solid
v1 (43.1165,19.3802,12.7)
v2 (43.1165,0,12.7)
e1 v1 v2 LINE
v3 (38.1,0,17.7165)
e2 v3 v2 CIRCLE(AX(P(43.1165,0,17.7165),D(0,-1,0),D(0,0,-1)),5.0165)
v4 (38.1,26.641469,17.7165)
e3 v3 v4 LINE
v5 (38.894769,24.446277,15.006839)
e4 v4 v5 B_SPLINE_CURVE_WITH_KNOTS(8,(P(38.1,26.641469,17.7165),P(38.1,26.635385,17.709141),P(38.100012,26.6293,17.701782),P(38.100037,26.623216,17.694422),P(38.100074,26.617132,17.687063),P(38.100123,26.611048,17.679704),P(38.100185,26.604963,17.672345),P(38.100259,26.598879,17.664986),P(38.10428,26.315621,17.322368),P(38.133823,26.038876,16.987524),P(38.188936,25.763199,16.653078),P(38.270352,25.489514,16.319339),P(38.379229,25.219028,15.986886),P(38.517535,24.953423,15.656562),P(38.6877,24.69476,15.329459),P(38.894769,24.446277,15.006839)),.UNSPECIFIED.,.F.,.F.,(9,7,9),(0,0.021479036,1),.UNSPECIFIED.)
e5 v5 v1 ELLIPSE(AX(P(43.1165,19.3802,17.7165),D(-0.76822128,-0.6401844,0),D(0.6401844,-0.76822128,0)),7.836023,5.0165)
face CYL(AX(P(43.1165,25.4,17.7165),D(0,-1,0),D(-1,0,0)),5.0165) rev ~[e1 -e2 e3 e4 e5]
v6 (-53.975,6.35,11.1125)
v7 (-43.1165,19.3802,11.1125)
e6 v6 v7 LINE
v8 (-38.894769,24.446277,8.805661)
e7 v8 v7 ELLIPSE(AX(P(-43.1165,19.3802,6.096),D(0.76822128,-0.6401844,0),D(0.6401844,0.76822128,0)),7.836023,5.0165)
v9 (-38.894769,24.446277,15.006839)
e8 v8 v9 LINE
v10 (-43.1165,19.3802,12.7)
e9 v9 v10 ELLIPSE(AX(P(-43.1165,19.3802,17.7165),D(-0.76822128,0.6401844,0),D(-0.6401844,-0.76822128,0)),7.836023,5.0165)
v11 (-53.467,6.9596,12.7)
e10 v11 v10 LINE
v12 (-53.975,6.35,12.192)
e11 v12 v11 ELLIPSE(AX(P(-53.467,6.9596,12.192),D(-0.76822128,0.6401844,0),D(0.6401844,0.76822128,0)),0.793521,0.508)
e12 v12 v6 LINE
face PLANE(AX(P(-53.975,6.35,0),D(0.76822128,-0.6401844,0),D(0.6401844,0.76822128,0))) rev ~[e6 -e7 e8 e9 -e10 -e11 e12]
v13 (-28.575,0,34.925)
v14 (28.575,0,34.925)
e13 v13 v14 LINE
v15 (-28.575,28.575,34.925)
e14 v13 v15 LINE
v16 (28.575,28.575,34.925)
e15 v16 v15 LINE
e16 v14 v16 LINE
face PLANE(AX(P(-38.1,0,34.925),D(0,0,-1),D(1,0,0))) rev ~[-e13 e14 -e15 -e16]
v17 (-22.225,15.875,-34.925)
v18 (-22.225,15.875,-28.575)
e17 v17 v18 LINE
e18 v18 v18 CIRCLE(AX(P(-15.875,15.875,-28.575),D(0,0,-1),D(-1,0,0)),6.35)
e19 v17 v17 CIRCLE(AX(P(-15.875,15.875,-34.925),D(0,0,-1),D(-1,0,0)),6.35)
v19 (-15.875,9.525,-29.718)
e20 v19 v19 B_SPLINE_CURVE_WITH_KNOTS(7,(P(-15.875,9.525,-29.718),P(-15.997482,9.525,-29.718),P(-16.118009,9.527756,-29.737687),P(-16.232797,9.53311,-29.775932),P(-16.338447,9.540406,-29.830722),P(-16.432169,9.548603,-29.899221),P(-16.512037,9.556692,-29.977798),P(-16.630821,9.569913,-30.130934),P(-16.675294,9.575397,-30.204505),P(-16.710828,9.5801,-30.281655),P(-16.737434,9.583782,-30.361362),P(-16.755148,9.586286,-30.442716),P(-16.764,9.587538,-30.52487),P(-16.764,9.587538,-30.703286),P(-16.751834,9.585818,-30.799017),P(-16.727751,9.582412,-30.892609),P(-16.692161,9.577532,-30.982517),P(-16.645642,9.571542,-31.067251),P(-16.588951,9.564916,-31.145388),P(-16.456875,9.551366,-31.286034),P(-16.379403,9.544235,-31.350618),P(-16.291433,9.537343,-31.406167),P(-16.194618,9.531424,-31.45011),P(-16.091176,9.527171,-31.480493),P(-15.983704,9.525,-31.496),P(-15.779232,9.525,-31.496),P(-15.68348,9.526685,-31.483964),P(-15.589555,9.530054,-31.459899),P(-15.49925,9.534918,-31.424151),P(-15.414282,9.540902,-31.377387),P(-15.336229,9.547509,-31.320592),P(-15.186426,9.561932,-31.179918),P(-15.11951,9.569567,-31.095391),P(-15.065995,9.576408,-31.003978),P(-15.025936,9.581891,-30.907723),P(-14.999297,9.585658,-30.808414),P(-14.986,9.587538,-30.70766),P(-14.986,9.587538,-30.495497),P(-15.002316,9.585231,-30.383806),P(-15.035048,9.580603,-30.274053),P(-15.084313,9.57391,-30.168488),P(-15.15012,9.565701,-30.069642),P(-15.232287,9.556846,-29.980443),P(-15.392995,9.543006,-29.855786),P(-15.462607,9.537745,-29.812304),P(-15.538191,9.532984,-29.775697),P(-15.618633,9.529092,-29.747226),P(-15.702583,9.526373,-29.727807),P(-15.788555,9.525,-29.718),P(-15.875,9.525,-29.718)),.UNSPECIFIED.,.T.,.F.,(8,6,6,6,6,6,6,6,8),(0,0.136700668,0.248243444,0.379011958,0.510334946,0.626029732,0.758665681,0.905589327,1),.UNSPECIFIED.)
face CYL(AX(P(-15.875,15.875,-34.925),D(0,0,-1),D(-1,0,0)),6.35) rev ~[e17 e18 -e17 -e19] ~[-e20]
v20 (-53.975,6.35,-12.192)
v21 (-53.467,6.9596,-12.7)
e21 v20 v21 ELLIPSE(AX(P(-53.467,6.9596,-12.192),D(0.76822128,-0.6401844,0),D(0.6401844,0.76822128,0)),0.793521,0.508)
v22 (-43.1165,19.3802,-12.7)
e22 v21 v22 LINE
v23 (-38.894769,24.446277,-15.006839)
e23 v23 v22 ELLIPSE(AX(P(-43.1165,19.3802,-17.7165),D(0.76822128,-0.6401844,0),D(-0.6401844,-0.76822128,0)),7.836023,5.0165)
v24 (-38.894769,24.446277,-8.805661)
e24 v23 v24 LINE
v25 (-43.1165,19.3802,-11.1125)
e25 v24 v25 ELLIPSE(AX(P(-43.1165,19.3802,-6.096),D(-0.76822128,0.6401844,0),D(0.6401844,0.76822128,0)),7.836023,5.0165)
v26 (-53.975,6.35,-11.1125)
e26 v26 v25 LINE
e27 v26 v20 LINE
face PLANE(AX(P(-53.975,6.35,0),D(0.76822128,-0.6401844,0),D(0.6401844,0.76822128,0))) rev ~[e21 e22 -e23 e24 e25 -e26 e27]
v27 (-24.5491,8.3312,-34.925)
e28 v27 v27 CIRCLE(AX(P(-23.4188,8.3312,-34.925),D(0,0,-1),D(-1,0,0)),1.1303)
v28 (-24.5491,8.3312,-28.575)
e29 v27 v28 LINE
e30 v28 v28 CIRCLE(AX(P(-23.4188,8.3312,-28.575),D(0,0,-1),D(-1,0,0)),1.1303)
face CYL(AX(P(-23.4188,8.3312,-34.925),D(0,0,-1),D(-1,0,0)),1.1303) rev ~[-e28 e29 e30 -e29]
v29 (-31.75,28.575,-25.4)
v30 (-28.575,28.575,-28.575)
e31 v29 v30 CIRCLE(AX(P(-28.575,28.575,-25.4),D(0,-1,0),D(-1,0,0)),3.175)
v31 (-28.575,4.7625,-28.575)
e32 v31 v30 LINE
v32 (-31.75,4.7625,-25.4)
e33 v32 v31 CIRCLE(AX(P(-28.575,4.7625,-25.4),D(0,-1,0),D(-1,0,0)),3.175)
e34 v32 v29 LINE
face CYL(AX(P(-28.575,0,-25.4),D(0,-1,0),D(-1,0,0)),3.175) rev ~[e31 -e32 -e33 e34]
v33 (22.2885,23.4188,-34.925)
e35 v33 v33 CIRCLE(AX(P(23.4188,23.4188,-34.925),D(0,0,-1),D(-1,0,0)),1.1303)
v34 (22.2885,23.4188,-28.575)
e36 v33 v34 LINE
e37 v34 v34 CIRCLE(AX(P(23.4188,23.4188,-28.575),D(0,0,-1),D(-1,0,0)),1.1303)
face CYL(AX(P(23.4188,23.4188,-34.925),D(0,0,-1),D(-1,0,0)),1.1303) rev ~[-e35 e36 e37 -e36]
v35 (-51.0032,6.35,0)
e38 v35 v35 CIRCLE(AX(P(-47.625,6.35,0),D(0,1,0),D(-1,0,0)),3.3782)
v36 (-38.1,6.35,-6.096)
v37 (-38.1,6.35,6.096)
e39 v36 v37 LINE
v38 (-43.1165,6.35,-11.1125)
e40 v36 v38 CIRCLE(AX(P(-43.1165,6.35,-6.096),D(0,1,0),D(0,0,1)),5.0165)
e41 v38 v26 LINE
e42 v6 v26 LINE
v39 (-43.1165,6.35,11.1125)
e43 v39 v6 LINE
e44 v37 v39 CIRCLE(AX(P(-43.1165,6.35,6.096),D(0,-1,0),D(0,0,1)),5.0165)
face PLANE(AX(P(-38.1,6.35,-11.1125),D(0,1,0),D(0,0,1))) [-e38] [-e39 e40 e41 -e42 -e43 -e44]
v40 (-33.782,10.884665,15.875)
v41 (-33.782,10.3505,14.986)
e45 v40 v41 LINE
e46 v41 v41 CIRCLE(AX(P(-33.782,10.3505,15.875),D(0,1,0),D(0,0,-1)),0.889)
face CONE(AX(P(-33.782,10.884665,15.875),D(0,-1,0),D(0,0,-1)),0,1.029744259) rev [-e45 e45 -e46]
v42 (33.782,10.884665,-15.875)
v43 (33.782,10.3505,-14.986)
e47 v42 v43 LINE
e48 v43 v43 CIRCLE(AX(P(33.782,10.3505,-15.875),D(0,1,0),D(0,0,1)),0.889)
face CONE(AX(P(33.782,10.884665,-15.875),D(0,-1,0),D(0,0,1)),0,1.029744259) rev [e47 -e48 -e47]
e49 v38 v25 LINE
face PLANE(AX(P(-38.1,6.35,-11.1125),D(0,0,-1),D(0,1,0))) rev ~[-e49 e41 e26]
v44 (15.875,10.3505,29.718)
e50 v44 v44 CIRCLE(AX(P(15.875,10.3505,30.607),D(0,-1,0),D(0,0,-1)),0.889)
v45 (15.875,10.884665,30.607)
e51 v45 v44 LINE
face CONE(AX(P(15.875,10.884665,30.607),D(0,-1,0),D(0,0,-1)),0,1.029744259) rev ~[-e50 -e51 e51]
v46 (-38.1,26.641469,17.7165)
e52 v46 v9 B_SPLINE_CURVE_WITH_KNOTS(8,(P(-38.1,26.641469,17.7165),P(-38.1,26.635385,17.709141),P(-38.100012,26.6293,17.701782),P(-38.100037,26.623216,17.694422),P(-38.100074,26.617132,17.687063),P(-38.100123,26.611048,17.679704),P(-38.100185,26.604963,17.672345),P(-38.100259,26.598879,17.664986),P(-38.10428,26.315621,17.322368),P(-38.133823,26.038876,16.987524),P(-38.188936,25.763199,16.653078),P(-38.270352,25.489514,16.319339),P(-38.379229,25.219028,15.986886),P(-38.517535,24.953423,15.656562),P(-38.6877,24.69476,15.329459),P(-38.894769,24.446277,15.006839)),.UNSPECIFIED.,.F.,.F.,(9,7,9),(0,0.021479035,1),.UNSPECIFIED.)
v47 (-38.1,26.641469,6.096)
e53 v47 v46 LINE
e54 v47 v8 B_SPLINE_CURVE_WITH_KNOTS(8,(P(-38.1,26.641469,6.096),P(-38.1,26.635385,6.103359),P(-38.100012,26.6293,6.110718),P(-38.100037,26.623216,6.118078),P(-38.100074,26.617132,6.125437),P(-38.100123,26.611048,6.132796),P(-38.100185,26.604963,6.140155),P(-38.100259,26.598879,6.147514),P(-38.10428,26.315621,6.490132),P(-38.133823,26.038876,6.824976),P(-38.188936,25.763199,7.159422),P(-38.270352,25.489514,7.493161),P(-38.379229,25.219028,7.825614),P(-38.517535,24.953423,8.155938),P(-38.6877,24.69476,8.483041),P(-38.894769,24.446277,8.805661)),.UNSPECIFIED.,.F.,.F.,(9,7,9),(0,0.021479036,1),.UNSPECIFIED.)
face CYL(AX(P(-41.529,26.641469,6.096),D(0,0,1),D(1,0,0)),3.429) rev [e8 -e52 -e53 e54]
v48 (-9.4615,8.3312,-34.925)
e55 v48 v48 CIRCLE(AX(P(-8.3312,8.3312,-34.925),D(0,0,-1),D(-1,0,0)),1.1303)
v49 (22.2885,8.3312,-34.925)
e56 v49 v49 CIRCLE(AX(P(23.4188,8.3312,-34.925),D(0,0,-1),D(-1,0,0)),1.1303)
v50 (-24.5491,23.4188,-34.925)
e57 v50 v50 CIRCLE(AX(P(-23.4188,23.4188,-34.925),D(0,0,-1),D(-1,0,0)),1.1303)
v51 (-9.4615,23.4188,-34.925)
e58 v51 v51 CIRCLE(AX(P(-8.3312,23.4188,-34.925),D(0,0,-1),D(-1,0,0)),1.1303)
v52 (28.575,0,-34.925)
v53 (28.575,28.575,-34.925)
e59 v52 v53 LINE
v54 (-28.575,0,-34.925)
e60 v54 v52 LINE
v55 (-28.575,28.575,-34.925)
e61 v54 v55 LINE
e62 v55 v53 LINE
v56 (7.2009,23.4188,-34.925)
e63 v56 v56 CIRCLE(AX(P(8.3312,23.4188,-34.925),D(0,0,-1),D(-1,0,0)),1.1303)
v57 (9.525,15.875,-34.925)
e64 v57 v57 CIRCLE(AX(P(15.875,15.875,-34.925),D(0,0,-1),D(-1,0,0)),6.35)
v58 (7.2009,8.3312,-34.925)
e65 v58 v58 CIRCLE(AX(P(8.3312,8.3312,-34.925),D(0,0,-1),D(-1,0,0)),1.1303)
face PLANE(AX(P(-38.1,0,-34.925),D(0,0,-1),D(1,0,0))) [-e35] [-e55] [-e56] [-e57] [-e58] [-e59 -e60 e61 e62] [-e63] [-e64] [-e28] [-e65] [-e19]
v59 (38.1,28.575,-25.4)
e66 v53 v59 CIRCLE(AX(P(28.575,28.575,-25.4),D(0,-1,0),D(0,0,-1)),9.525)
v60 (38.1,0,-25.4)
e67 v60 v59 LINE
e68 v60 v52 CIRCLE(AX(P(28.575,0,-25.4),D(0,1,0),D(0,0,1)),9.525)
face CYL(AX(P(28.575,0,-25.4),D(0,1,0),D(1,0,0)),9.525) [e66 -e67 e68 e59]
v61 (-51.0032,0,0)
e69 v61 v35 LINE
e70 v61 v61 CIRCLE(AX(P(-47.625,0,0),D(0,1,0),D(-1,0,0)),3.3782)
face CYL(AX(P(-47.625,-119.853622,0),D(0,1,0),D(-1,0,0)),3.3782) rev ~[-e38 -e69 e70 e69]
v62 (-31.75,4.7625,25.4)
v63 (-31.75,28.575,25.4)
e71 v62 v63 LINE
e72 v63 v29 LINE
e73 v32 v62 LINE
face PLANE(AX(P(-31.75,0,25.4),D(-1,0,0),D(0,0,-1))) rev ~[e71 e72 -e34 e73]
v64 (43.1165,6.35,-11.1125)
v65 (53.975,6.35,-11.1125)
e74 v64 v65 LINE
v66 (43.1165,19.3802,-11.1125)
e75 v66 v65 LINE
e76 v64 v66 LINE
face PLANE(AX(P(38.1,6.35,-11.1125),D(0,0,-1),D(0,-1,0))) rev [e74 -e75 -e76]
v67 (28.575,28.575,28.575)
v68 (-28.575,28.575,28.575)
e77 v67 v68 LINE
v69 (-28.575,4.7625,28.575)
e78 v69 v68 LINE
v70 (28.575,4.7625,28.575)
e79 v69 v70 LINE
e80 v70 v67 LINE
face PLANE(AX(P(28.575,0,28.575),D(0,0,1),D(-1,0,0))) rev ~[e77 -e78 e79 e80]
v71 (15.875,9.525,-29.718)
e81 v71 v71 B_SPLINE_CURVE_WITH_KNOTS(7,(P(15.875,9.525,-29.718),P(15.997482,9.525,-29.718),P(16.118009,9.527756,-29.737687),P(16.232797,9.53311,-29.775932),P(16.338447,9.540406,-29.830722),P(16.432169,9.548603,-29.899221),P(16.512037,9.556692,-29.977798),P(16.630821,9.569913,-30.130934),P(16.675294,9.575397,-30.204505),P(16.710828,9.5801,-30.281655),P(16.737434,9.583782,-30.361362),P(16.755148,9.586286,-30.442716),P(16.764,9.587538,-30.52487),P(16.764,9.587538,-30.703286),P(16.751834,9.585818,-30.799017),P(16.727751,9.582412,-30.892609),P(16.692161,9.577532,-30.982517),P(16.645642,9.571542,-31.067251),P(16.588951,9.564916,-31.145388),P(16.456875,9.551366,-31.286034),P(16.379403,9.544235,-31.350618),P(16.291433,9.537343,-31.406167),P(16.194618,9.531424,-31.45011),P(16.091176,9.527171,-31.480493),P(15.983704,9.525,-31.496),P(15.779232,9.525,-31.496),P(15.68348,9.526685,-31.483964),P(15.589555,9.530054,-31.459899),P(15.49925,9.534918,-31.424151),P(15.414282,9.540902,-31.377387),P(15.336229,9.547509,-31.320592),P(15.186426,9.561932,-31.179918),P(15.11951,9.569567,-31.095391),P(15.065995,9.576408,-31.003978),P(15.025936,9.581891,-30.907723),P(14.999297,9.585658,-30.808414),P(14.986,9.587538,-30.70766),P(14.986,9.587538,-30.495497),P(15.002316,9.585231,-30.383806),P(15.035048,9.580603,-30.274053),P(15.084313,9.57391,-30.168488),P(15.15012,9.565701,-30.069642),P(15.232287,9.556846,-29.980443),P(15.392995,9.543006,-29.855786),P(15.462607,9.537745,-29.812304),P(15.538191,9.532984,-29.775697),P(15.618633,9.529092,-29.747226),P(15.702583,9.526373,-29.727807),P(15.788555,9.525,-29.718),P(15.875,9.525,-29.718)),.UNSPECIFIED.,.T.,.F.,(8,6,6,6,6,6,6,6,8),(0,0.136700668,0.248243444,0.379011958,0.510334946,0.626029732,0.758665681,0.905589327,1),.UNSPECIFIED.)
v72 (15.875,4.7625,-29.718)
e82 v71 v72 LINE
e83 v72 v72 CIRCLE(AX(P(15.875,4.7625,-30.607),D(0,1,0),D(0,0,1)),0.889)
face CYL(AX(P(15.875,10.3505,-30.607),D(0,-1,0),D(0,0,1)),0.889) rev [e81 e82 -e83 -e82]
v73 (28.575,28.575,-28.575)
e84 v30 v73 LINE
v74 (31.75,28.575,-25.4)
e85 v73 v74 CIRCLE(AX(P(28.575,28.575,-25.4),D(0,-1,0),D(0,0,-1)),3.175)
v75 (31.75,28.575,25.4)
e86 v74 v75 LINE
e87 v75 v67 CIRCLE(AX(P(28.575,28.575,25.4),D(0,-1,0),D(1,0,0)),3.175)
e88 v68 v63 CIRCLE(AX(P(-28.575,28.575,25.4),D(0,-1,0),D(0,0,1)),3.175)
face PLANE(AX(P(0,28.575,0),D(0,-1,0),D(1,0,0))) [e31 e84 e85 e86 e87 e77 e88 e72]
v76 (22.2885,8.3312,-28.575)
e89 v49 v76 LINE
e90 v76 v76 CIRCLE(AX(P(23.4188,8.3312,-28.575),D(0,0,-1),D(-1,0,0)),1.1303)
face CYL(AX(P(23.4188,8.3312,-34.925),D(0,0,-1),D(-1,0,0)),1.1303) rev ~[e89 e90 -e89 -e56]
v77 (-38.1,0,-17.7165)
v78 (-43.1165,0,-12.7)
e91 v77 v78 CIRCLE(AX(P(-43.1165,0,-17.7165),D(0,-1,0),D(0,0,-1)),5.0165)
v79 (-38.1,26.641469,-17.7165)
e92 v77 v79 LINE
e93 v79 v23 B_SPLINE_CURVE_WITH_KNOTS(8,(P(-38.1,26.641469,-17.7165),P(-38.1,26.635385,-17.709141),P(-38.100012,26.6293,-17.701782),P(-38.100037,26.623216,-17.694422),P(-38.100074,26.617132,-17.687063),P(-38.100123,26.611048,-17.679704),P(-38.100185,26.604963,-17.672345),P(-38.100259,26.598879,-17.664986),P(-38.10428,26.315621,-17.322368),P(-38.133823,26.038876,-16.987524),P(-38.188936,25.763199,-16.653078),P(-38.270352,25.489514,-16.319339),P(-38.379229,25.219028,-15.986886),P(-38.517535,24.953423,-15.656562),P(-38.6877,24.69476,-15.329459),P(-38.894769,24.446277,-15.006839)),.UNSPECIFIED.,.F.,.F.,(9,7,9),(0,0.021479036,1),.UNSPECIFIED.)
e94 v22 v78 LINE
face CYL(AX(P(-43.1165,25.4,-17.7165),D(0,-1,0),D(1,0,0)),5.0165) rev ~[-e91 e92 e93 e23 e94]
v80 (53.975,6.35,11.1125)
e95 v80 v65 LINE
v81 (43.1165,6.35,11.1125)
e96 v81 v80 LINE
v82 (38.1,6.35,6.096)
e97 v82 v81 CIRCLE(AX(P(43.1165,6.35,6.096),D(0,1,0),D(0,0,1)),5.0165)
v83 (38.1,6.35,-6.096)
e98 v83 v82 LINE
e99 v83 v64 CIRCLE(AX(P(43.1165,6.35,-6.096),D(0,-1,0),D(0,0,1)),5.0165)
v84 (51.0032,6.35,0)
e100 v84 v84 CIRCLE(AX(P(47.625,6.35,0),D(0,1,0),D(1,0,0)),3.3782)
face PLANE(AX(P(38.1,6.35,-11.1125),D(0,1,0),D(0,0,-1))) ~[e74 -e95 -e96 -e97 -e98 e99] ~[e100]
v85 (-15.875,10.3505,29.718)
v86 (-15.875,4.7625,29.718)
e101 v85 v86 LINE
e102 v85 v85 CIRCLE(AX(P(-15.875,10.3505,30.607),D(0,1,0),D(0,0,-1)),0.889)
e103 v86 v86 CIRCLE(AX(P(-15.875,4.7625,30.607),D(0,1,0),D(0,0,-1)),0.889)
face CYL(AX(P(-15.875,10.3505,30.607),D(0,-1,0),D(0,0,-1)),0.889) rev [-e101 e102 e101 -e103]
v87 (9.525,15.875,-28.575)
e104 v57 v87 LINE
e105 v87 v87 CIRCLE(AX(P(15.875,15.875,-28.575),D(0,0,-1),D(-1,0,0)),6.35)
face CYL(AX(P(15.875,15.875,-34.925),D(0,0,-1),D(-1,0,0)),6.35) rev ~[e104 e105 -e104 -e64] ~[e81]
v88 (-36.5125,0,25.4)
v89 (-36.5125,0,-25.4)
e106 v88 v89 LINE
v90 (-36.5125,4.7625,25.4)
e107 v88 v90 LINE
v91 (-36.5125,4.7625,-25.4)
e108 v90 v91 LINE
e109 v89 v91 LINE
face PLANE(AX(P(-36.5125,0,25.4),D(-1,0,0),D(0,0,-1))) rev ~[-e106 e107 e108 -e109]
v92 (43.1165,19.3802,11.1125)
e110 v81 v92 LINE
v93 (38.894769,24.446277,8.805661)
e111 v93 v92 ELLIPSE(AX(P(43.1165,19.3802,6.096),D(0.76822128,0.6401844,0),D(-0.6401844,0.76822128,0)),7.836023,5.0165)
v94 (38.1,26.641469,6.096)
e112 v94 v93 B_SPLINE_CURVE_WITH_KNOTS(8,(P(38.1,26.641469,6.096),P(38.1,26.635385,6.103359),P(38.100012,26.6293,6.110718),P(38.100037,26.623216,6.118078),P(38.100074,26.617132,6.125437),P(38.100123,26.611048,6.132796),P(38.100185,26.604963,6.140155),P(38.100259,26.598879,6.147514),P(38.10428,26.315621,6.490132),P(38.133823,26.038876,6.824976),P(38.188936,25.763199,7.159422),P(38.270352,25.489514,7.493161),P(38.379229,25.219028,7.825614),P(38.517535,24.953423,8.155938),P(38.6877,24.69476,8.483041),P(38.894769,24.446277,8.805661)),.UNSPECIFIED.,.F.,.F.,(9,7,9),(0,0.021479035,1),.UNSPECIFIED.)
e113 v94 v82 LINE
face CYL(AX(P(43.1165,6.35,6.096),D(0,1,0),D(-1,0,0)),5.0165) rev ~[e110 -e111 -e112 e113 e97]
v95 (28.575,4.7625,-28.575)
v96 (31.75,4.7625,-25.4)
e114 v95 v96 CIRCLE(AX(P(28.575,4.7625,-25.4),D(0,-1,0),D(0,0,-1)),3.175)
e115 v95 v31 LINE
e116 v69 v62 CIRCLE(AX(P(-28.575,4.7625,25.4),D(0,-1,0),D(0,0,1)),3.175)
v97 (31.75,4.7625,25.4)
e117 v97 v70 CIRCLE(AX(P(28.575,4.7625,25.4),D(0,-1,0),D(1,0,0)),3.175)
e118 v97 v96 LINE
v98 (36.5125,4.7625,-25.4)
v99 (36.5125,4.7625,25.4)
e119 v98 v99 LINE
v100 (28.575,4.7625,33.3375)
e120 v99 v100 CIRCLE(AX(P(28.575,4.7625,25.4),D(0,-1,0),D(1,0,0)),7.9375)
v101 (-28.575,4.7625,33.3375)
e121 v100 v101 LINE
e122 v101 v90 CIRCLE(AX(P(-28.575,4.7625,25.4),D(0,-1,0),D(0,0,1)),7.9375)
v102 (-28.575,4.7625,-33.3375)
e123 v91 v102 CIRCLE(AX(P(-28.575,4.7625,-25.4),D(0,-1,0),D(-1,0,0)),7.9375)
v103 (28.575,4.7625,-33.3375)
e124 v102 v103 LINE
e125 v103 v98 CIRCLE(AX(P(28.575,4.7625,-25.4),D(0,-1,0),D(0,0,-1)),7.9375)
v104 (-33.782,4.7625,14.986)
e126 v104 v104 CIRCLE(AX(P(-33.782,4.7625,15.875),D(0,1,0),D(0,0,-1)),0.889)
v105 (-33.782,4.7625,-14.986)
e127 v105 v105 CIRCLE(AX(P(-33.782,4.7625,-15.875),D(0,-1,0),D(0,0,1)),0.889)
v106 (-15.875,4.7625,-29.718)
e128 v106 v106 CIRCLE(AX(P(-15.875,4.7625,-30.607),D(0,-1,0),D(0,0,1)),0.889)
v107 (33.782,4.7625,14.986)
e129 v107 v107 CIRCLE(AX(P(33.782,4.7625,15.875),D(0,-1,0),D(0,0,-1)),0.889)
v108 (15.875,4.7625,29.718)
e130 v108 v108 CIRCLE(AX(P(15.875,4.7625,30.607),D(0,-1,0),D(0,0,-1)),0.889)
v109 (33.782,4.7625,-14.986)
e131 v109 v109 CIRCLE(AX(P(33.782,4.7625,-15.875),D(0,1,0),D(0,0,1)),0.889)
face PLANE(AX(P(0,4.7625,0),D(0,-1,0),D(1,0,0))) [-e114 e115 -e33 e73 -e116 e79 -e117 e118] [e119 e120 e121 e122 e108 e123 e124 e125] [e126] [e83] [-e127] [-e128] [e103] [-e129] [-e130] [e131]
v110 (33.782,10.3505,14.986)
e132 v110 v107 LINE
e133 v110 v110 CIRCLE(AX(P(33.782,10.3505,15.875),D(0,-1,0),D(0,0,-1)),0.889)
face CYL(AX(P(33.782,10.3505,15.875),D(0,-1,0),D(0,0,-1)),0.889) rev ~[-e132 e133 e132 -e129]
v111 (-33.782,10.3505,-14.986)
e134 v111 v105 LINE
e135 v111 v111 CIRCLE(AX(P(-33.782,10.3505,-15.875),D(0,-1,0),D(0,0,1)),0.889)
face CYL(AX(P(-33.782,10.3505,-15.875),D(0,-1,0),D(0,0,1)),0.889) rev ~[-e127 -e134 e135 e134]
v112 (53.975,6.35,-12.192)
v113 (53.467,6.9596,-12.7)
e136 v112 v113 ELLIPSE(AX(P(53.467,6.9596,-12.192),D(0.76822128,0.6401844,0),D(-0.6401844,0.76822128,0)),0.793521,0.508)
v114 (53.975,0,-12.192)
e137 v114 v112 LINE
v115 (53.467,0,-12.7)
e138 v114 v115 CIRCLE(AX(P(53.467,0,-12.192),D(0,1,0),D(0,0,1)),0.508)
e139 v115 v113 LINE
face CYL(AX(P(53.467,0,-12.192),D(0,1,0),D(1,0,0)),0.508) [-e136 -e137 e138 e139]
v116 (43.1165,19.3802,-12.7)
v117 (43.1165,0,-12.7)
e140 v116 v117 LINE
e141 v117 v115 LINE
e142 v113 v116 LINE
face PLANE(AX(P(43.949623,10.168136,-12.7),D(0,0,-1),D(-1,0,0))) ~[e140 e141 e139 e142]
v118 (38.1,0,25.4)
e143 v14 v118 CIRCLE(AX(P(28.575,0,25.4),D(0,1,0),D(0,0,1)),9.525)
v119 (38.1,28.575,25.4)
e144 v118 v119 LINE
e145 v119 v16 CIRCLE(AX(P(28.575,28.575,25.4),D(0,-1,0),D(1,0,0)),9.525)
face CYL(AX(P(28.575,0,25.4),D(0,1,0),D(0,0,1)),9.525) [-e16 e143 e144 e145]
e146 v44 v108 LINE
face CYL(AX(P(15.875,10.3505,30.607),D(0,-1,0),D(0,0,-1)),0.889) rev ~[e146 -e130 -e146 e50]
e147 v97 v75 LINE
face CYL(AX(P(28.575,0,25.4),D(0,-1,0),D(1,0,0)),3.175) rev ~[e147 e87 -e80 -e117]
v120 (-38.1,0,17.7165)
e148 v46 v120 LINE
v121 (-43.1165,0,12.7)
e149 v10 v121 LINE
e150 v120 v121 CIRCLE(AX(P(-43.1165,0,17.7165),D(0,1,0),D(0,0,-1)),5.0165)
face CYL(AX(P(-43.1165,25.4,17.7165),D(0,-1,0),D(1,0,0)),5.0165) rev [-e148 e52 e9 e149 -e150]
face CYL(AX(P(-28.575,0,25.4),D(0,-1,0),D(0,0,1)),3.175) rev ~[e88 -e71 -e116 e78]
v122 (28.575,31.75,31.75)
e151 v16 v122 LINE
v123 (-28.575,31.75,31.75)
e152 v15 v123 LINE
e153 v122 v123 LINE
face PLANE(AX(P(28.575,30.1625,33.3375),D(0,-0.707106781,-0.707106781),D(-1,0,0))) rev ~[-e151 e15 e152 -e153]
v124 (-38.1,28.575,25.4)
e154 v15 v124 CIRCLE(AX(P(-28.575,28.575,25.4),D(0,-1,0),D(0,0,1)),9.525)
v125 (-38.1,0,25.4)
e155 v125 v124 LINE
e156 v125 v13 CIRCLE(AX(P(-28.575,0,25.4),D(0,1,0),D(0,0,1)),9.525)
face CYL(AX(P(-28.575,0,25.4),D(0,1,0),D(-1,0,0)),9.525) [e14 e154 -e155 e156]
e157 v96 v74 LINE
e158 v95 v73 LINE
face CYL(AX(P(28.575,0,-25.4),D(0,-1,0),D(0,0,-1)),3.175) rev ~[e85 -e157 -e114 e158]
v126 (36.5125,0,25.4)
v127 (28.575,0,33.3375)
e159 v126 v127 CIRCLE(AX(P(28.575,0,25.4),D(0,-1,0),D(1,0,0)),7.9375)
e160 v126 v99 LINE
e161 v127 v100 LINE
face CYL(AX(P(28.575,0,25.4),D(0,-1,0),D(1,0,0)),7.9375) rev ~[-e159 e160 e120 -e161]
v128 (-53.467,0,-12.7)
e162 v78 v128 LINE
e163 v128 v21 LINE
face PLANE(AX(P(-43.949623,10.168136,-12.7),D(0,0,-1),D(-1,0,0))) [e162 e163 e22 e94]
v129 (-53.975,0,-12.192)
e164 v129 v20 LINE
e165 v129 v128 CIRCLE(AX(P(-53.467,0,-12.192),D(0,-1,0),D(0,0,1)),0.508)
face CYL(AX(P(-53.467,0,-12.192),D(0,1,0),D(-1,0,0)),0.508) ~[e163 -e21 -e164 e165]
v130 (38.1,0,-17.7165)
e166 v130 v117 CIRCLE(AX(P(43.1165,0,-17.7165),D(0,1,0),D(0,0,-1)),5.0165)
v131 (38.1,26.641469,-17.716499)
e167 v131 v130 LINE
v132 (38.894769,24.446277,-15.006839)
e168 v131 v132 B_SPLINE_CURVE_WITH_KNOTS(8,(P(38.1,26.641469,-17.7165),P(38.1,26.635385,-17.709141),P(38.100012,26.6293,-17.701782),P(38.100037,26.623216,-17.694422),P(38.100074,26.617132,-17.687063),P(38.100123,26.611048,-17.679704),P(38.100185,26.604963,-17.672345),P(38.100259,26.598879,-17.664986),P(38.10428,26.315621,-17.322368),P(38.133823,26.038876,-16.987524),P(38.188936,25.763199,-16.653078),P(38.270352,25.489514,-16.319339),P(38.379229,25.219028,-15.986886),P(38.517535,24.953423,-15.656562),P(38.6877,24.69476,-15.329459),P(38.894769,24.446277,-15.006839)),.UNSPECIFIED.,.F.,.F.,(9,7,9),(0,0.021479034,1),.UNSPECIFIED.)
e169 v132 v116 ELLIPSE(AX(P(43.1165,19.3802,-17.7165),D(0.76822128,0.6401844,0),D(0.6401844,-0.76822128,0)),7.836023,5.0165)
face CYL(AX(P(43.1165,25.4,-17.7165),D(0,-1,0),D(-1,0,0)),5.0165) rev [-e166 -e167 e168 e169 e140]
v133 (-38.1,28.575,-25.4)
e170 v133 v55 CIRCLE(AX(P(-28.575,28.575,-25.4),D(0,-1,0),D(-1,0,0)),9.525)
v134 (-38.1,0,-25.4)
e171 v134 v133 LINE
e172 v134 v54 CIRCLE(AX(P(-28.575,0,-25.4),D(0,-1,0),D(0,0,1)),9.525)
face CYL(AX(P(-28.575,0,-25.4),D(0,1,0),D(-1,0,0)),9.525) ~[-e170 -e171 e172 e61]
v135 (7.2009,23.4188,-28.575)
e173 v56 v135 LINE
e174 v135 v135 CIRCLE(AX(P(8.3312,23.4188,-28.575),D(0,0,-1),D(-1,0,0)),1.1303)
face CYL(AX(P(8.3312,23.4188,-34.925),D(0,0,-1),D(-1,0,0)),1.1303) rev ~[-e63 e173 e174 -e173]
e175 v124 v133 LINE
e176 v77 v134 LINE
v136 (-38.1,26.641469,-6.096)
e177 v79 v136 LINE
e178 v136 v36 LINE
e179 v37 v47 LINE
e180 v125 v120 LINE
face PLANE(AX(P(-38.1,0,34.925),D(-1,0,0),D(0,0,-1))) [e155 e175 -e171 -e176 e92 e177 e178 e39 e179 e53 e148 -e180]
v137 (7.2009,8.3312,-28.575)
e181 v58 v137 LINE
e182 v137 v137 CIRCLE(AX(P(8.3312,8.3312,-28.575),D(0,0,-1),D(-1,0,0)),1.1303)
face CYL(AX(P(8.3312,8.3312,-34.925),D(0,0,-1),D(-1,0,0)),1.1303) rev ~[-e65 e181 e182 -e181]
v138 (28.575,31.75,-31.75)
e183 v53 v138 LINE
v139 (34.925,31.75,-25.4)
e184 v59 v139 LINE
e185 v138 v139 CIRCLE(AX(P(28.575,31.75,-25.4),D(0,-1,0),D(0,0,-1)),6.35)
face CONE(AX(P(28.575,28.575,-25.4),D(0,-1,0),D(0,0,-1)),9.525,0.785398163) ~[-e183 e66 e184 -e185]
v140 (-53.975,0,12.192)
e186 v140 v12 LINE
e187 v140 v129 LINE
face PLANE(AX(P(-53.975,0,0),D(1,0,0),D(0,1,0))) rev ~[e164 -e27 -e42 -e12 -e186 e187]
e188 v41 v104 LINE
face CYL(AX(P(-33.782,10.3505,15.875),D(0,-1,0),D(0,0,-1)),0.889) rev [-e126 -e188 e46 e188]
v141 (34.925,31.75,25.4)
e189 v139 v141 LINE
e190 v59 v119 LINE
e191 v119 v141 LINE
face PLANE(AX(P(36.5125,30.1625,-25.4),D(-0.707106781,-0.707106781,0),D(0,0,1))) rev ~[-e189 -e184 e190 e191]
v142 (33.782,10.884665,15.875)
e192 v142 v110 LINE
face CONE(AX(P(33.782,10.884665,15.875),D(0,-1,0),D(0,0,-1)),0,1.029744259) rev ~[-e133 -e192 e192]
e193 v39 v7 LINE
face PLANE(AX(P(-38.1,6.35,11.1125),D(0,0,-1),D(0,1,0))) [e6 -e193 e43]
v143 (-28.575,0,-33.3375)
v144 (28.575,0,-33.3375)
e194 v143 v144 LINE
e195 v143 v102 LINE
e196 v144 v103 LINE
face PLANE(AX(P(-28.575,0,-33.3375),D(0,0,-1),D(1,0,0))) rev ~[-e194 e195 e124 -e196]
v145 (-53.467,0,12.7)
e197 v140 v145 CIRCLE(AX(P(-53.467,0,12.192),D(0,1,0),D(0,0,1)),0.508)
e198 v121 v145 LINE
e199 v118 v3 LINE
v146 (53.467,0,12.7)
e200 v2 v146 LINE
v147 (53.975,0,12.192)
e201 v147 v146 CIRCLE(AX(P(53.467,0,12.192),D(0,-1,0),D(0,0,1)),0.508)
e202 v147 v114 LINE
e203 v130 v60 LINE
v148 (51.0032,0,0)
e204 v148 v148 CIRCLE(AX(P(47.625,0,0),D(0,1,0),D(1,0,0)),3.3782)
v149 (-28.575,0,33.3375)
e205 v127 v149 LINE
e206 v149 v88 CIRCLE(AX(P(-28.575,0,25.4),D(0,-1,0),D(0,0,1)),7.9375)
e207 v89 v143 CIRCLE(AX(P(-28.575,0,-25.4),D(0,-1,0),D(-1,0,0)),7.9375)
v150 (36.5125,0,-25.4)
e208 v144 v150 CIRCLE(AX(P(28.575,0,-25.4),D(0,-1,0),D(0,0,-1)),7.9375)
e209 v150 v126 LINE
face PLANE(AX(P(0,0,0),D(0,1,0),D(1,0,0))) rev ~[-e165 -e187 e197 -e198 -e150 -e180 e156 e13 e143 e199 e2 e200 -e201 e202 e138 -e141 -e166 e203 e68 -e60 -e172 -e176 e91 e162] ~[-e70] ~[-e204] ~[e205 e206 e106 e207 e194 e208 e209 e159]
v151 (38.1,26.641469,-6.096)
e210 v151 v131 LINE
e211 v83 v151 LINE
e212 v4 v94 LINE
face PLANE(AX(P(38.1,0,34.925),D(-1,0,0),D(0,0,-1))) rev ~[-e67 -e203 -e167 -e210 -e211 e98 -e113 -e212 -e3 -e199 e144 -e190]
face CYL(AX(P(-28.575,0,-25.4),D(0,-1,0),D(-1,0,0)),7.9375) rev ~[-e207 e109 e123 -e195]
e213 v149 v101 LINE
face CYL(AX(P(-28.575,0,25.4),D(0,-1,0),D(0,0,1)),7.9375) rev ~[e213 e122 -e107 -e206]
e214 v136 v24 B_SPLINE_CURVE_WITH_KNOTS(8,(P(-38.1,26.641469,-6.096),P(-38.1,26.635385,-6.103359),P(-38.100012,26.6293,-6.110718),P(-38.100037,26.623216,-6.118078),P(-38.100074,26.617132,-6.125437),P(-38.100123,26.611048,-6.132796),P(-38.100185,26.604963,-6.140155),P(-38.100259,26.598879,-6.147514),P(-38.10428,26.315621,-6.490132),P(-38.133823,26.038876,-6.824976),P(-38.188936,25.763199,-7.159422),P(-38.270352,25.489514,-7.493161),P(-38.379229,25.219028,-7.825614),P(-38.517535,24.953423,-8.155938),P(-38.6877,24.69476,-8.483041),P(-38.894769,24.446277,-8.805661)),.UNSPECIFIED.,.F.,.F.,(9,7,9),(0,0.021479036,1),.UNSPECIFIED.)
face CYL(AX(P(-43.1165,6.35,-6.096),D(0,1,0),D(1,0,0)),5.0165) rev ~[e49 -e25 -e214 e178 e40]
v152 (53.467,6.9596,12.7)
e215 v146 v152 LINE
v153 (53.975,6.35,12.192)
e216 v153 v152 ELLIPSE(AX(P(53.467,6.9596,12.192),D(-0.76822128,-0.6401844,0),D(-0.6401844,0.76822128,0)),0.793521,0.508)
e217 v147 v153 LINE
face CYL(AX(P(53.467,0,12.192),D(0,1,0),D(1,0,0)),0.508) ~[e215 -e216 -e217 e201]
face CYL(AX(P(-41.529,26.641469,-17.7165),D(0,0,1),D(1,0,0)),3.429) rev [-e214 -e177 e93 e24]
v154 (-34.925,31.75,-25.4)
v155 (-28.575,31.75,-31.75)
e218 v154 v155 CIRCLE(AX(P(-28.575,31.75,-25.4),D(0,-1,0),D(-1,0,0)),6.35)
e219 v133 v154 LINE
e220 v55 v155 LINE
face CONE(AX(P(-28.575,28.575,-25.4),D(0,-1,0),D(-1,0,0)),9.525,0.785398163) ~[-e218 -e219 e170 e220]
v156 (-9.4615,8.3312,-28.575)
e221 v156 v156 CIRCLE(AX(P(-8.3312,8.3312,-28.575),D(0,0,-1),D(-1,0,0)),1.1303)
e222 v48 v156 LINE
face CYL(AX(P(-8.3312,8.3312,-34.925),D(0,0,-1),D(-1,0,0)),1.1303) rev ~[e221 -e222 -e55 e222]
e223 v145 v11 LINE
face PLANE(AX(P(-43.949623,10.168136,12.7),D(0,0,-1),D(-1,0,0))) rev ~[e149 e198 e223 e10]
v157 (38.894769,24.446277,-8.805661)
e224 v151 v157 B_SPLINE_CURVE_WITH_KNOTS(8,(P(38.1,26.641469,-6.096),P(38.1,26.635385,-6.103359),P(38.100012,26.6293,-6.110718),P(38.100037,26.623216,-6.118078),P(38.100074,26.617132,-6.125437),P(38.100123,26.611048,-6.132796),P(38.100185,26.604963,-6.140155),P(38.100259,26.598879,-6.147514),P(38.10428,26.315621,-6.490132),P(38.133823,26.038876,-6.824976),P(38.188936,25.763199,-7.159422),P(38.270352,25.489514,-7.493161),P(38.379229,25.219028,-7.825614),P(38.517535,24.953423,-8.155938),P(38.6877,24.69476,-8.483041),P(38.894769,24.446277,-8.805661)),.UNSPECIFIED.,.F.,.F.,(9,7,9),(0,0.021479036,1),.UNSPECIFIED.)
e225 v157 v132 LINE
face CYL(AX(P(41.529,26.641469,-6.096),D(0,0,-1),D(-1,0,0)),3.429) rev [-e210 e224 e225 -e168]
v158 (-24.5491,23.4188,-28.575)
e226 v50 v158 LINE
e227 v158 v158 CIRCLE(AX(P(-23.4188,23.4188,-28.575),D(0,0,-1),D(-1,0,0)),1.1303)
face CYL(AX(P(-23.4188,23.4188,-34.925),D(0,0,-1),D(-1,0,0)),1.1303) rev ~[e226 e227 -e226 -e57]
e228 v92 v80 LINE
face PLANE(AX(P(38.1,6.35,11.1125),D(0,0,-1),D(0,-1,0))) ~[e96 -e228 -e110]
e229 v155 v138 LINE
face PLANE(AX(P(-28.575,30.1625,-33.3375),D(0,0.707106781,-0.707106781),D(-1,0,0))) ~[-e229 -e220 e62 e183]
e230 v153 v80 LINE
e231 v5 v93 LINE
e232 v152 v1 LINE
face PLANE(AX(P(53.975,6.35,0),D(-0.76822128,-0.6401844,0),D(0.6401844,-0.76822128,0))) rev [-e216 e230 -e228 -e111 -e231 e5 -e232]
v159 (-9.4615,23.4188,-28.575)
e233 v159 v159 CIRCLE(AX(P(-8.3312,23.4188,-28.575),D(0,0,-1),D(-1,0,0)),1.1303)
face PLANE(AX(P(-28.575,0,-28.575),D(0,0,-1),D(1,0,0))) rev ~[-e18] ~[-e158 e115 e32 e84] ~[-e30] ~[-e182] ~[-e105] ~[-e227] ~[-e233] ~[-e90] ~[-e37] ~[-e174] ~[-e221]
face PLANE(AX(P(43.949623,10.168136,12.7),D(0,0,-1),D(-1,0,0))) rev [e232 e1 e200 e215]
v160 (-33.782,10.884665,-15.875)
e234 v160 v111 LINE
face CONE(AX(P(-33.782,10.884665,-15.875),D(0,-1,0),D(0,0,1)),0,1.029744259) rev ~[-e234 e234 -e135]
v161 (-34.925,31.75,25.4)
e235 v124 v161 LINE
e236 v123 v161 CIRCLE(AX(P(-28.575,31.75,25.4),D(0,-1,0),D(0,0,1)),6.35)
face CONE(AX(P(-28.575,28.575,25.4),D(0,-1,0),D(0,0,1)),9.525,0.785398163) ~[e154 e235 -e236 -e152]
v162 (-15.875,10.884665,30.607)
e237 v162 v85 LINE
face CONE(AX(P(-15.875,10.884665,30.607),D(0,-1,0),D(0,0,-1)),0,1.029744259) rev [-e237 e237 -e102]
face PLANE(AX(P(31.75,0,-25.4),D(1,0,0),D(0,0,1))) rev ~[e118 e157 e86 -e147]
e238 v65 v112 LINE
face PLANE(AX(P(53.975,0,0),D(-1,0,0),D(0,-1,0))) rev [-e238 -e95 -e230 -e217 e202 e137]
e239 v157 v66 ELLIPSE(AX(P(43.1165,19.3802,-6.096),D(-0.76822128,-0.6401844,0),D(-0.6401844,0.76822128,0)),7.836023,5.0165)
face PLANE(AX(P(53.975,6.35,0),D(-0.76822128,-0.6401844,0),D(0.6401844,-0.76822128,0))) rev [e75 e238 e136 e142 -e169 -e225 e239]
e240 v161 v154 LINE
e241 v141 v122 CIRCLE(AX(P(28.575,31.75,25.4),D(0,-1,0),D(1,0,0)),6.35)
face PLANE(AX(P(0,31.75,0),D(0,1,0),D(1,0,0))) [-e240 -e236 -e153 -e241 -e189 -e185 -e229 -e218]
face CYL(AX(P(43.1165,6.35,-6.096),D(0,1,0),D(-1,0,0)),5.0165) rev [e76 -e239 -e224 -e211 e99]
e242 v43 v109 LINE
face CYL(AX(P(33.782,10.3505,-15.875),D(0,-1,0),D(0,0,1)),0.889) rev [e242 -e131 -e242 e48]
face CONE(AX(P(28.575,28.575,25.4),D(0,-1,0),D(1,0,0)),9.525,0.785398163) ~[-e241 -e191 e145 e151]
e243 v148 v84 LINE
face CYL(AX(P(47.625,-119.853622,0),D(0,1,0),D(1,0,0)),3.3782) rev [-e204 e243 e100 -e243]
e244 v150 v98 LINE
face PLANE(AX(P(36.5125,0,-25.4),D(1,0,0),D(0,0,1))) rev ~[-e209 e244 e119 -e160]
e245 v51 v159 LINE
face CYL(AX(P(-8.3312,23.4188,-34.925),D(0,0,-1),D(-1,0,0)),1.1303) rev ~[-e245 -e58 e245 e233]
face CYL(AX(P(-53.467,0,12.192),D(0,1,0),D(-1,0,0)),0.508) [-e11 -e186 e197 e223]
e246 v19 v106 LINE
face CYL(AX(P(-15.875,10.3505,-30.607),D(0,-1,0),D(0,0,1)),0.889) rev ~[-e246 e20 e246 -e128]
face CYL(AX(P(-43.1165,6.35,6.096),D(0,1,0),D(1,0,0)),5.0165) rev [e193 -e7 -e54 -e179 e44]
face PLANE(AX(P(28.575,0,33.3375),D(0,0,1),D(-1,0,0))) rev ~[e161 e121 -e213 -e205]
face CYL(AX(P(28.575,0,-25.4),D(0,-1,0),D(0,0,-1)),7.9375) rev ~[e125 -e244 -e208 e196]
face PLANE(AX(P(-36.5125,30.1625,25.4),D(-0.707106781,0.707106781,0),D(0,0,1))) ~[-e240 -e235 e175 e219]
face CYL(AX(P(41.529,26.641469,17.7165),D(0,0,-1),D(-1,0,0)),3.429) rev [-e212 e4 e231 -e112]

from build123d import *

# Parameters (mm, degrees)
SKETCH1_W                      = 76.2
SKETCH1_H                      = 69.85
BOSS_EXTRUDE1_DEPTH            = 31.75
FILLET1_R                      = 9.525
CUT_EXTRUDE1_DEPTH             = 28.575
CUT_EXTRUDE3_DEPTH             = 4.7625
BOSS_EXTRUDE3_DEPTH            = 12.7
F_1_4_CLEARANCE_HOLE2_D        = 6.7564
SKETCH15_W                     = 22.225
SKETCH15_H                     = 19.05
CUT_EXTRUDE5_DEPTH             = 90.634023256
FILLET2_R                      = 5.0165
FILLET3_R                      = 3.429
FILLET4_R                      = 0.508
CHAMFER1_SIZE                  = 3.175
F_2_56_TAPPED_HOLE1_AT_2_COUNT = 2
F_2_56_TAPPED_HOLE1_AT_2_PITCH = 23.188196847
CUT_EXTRUDE4_REACH             = 95.81
SKETCH14_R                     = 6.35
F_4_40_TAPPED_HOLE1_REACH      = 129.201
F_4_40_TAPPED_HOLE1_BORE_R     = 1.1303


with BuildPart() as part:
    # Sketch1 → Boss-Extrude1 (new body)
    with BuildSketch(Plane(origin=(0, 0, 0), x_dir=(1, 0, 0), z_dir=(0, 1, 0))):
        Rectangle(SKETCH1_W, SKETCH1_H)
    extrude(amount=BOSS_EXTRUDE1_DEPTH)

    # Fillet1
    fillet1_edges = [part.edges().sort_by_distance(p)[0] for p in [
        (38.1, 15.875, 34.925),
        (-38.1, 15.875, 34.925),
        (-38.1, 15.875, -34.925),
        (38.1, 15.875, -34.925),
    ]]
    fillet(fillet1_edges, radius=FILLET1_R)

    # Sketch2 → Cut-Extrude1 (cut)
    with BuildSketch(Plane.XZ):
        with BuildLine():
            Line((31.75, -25.4), (31.75, 25.4))
            ThreePointArc((31.75, 25.4), (30.82006403, 27.64506403), (28.575, 28.575))
            Line((28.575, 28.575), (-28.575, 28.575))
            ThreePointArc((-28.575, 28.575), (-30.82006403, 27.64506403), (-31.75, 25.4))
            Line((-31.75, 25.4), (-31.75, -25.4))
            ThreePointArc((-31.75, -25.4), (-30.82006403, -27.64506403), (-28.575, -28.575))
            Line((-28.575, -28.575), (28.575, -28.575))
            ThreePointArc((28.575, -28.575), (30.82006403, -27.64506403), (31.75, -25.4))
        make_face()
    extrude(amount=-CUT_EXTRUDE1_DEPTH, mode=Mode.SUBTRACT)

    # Sketch11 → Cut-Extrude3 (cut)
    with BuildSketch(Plane.XZ):
        with BuildLine():
            Line((36.5125, -25.4), (36.5125, 25.4))
            ThreePointArc((36.5125, 25.4), (34.187660076, 31.012660076), (28.575, 33.3375))
            Line((28.575, 33.3375), (-28.575, 33.3375))
            ThreePointArc((-28.575, 33.3375), (-34.187660076, 31.012660076), (-36.5125, 25.4))
            Line((-36.5125, 25.4), (-36.5125, -25.4))
            ThreePointArc((-36.5125, -25.4), (-34.187660076, -31.012660076), (-28.575, -33.3375))
            Line((-28.575, -33.3375), (28.575, -33.3375))
            ThreePointArc((28.575, -33.3375), (34.187660076, -31.012660076), (36.5125, -25.4))
        make_face()
    extrude(amount=-CUT_EXTRUDE3_DEPTH, mode=Mode.SUBTRACT)

    # Sketch4 → Boss-Extrude3 (add, symmetric)
    with BuildSketch(Plane.XY):
        Polygon((-38.1, 0), (-53.975, 0), (-53.975, 6.35), (-38.1, 25.4), align=None)
    boss_extrude3 = extrude(amount=BOSS_EXTRUDE3_DEPTH, both=True)

    # 1/4 Clearance Hole2 (through all)
    with Locations(Plane(origin=(-13.566959835, 0, 0), x_dir=(1, 0, 0), z_dir=(0, -1, 0))):
        with Locations((-34.058040165, 0)):
            f_1_4_clearance_hole2 = Hole(F_1_4_CLEARANCE_HOLE2_D / 2)

    # Sketch15 → Cut-Extrude5 (cut, through all)
    with BuildSketch(Plane.ZY.offset(38.1)):
        with Locations((0, 15.875)):
            Rectangle(SKETCH15_W, SKETCH15_H)
    cut_extrude5 = extrude(amount=CUT_EXTRUDE5_DEPTH, mode=Mode.SUBTRACT)

    # Mirror4: Boss-Extrude3, 1/4 Clearance Hole2, Cut-Extrude5 across plane
    add(boss_extrude3.mirror(Plane(origin=(0, 0, 0), x_dir=(0, 0, 1), z_dir=(1, 0, 0))))
    add(f_1_4_clearance_hole2.mirror(Plane(origin=(0, 0, 0), x_dir=(0, 0, 1), z_dir=(1, 0, 0))), mode=Mode.SUBTRACT)
    add(cut_extrude5.mirror(Plane(origin=(0, 0, 0), x_dir=(0, 0, 1), z_dir=(1, 0, 0))), mode=Mode.SUBTRACT)

    # Fillet2
    fillet2_edges = [part.edges().sort_by_distance(p)[0] for p in [
        (-38.1, 12.7, -12.7),
        (-38.1, 12.7, 12.7),
        (-38.1, 15.875, 11.1125),
        (-38.1, 15.875, -11.1125),
        (38.1, 12.7, 12.7),
        (38.1, 12.7, -12.7),
        (38.1, 15.875, 11.1125),
        (38.1, 15.875, -11.1125),
    ]]
    fillet(fillet2_edges, radius=FILLET2_R)

    # Fillet3
    fillet3_edges = [part.edges().sort_by_distance(p)[0] for p in [
        (-38.1, 25.4, 11.90625),
        (-38.1, 25.4, -11.90625),
        (38.1, 25.4, -11.90625),
        (38.1, 25.4, 11.90625),
    ]]
    fillet(fillet3_edges, radius=FILLET3_R)

    # Fillet4
    fillet4_edges = [part.edges().sort_by_distance(p)[0] for p in [
        (-53.975, 3.175, -12.7),
        (-53.975, 3.175, 12.7),
        (53.975, 3.175, 12.7),
        (53.975, 3.175, -12.7),
    ]]
    fillet(fillet4_edges, radius=FILLET4_R)

    # Chamfer1
    chamfer1_edges = [part.edges().sort_by_distance(p)[0] for p in [
        (-38.1, 31.75, 0),
        (0, 31.75, -34.925),
        (38.1, 31.75, 0),
        (0, 31.75, 34.925),
        (-35.310192091, 31.75, 32.135192091),
        (35.310192091, 31.75, 32.135192091),
        (35.310192091, 31.75, -32.135192091),
        (-35.310192091, 31.75, -32.135192091),
    ]]
    chamfer(chamfer1_edges, length=CHAMFER1_SIZE)

    # Sketch13 → #2-56 Tapped Hole1 (revolve, cut)
    with BuildSketch(Plane(origin=(-15.875, 4.7625, 30.607), x_dir=(0, 0, -1), z_dir=(1, 0, 0))):
        Polygon((0, 0), (0, 6.12216509), (0.889, 5.588), (0.889, 0), align=None)
    f_2_56_tapped_hole1 = revolve(axis=Axis((-15.875, -1.5875, 30.607), (0, 1, 0)), mode=Mode.SUBTRACT)

    # #2-56 Tapped Hole1 at 2: #2-56 Tapped Hole1 ×2
    with Locations(*[Vector(-0.7722463337018893, 0, -0.6353232248894969) * (i * F_2_56_TAPPED_HOLE1_AT_2_PITCH) for i in range(1, F_2_56_TAPPED_HOLE1_AT_2_COUNT)]):
        add(f_2_56_tapped_hole1, mode=Mode.SUBTRACT)

    # Mirror2: #2-56 Tapped Hole1 across plane
    add(f_2_56_tapped_hole1.mirror(Plane.XY), mode=Mode.SUBTRACT)

    # Mirror2 copy 1 sketch → Mirror2 copy 1 (revolve, cut)
    with BuildSketch(Plane(origin=(-33.782, 4.7625, -15.875), x_dir=(0, 0, 1), z_dir=(1, 0, 0))):
        Polygon((0, 0), (0, -6.12216509), (0.889, -5.588), (0.889, 0), align=None)
    revolve(axis=Axis((-33.782, -1.5875, -15.875), (0, -1, 0)), mode=Mode.SUBTRACT)

    # Mirror3: #2-56 Tapped Hole1 across plane
    add(f_2_56_tapped_hole1.mirror(Plane(origin=(0, 0, 0), x_dir=(0, 0, 1), z_dir=(1, 0, 0))), mode=Mode.SUBTRACT)

    # Mirror3 copy 1 sketch → Mirror3 copy 1 (revolve, cut)
    with BuildSketch(Plane(origin=(33.782, 4.7625, 15.875), x_dir=(0, 0, -1), z_dir=(-1, 0, 0))):
        Polygon((0, 0), (0, -6.12216509), (0.889, -5.588), (0.889, 0), align=None)
    revolve(axis=Axis((33.782, -1.5875, 15.875), (0, -1, 0)), mode=Mode.SUBTRACT)

    # Mirror3 copy 2 sketch → Mirror3 copy 2 (revolve, cut)
    with BuildSketch(Plane(origin=(15.875, 4.7625, -30.607), x_dir=(0, 0, 1), z_dir=(-1, 0, 0))):
        Polygon((0, 0), (0, 6.12216509), (0.889, 5.588), (0.889, 0), align=None)
    revolve(axis=Axis((15.875, -1.5875, -30.607), (0, 1, 0)), mode=Mode.SUBTRACT)

    # Mirror3 copy 3 sketch → Mirror3 copy 3 (revolve, cut)
    with BuildSketch(Plane(origin=(33.782, 4.7625, -15.875), x_dir=(0, 0, 1), z_dir=(-1, 0, 0))):
        Polygon((0, 0), (0, 6.12216509), (0.889, 5.588), (0.889, 0), align=None)
    revolve(axis=Axis((33.782, -1.5875, -15.875), (0, 1, 0)), mode=Mode.SUBTRACT)

    # Sketch14 → Cut-Extrude4 (cut, up to next)
    with BuildSketch(Plane(origin=(0, 0, -34.925), x_dir=(-1, 0, 0), z_dir=(0, 0, -1)), mode=Mode.PRIVATE) as cut_extrude4_sk1:
        with Locations((-15.875, 15.875)):
            Circle(SKETCH14_R)
    cut_extrude4_tool1 = extrude(cut_extrude4_sk1.sketch, amount=-CUT_EXTRUDE4_REACH, mode=Mode.PRIVATE) & part.part
    # Sketch14 → Cut-Extrude4 (cut, up to next)
    with BuildSketch(Plane(origin=(0, 0, -34.925), x_dir=(-1, 0, 0), z_dir=(0, 0, -1)), mode=Mode.PRIVATE) as cut_extrude4_sk2:
        with Locations((15.875, 15.875)):
            Circle(SKETCH14_R)
    cut_extrude4_tool2 = extrude(cut_extrude4_sk2.sketch, amount=-CUT_EXTRUDE4_REACH, mode=Mode.PRIVATE) & part.part
    add(cut_extrude4_tool1.solids().sort_by_distance((15.875, 15.875, -34.925))[0], mode=Mode.SUBTRACT)
    add(cut_extrude4_tool2.solids().sort_by_distance((-15.875, 15.875, -34.925))[0], mode=Mode.SUBTRACT)

    # #4-40 Tapped Hole1 bore → #4-40 Tapped Hole1 (cut, up to next)
    with BuildSketch(Plane(origin=(-13.435602358, -50.449576404, -34.925), x_dir=(-1, 0, 0), z_dir=(0, 0, -1)), mode=Mode.PRIVATE) as f_4_40_tapped_hole1_sk1:
        with Locations((-5.104402358, 73.868376404)):
            Circle(F_4_40_TAPPED_HOLE1_BORE_R)
    f_4_40_tapped_hole1_tool1 = extrude(f_4_40_tapped_hole1_sk1.sketch, amount=-F_4_40_TAPPED_HOLE1_REACH, mode=Mode.PRIVATE) & part.part
    # #4-40 Tapped Hole1 bore → #4-40 Tapped Hole1 (cut, up to next)
    with BuildSketch(Plane(origin=(-13.435602358, -50.449576404, -34.925), x_dir=(-1, 0, 0), z_dir=(0, 0, -1)), mode=Mode.PRIVATE) as f_4_40_tapped_hole1_sk2:
        with Locations((9.983197642, 73.868376404)):
            Circle(F_4_40_TAPPED_HOLE1_BORE_R)
    f_4_40_tapped_hole1_tool2 = extrude(f_4_40_tapped_hole1_sk2.sketch, amount=-F_4_40_TAPPED_HOLE1_REACH, mode=Mode.PRIVATE) & part.part
    # #4-40 Tapped Hole1 bore → #4-40 Tapped Hole1 (cut, up to next)
    with BuildSketch(Plane(origin=(-13.435602358, -50.449576404, -34.925), x_dir=(-1, 0, 0), z_dir=(0, 0, -1)), mode=Mode.PRIVATE) as f_4_40_tapped_hole1_sk3:
        with Locations((9.983197642, 58.780776404)):
            Circle(F_4_40_TAPPED_HOLE1_BORE_R)
    f_4_40_tapped_hole1_tool3 = extrude(f_4_40_tapped_hole1_sk3.sketch, amount=-F_4_40_TAPPED_HOLE1_REACH, mode=Mode.PRIVATE) & part.part
    # #4-40 Tapped Hole1 bore → #4-40 Tapped Hole1 (cut, up to next)
    with BuildSketch(Plane(origin=(-13.435602358, -50.449576404, -34.925), x_dir=(-1, 0, 0), z_dir=(0, 0, -1)), mode=Mode.PRIVATE) as f_4_40_tapped_hole1_sk4:
        with Locations((-5.104402358, 58.780776404)):
            Circle(F_4_40_TAPPED_HOLE1_BORE_R)
    f_4_40_tapped_hole1_tool4 = extrude(f_4_40_tapped_hole1_sk4.sketch, amount=-F_4_40_TAPPED_HOLE1_REACH, mode=Mode.PRIVATE) & part.part
    # #4-40 Tapped Hole1 bore → #4-40 Tapped Hole1 (cut, up to next)
    with BuildSketch(Plane(origin=(-13.435602358, -50.449576404, -34.925), x_dir=(-1, 0, 0), z_dir=(0, 0, -1)), mode=Mode.PRIVATE) as f_4_40_tapped_hole1_sk5:
        with Locations((-21.766802358, 58.780776404)):
            Circle(F_4_40_TAPPED_HOLE1_BORE_R)
    f_4_40_tapped_hole1_tool5 = extrude(f_4_40_tapped_hole1_sk5.sketch, amount=-F_4_40_TAPPED_HOLE1_REACH, mode=Mode.PRIVATE) & part.part
    # #4-40 Tapped Hole1 bore → #4-40 Tapped Hole1 (cut, up to next)
    with BuildSketch(Plane(origin=(-13.435602358, -50.449576404, -34.925), x_dir=(-1, 0, 0), z_dir=(0, 0, -1)), mode=Mode.PRIVATE) as f_4_40_tapped_hole1_sk6:
        with Locations((-21.766802358, 73.868376404)):
            Circle(F_4_40_TAPPED_HOLE1_BORE_R)
    f_4_40_tapped_hole1_tool6 = extrude(f_4_40_tapped_hole1_sk6.sketch, amount=-F_4_40_TAPPED_HOLE1_REACH, mode=Mode.PRIVATE) & part.part
    # #4-40 Tapped Hole1 bore → #4-40 Tapped Hole1 (cut, up to next)
    with BuildSketch(Plane(origin=(-13.435602358, -50.449576404, -34.925), x_dir=(-1, 0, 0), z_dir=(0, 0, -1)), mode=Mode.PRIVATE) as f_4_40_tapped_hole1_sk7:
        with Locations((-36.854402358, 73.868376404)):
            Circle(F_4_40_TAPPED_HOLE1_BORE_R)
    f_4_40_tapped_hole1_tool7 = extrude(f_4_40_tapped_hole1_sk7.sketch, amount=-F_4_40_TAPPED_HOLE1_REACH, mode=Mode.PRIVATE) & part.part
    # #4-40 Tapped Hole1 bore → #4-40 Tapped Hole1 (cut, up to next)
    with BuildSketch(Plane(origin=(-13.435602358, -50.449576404, -34.925), x_dir=(-1, 0, 0), z_dir=(0, 0, -1)), mode=Mode.PRIVATE) as f_4_40_tapped_hole1_sk8:
        with Locations((-36.854402358, 58.780776404)):
            Circle(F_4_40_TAPPED_HOLE1_BORE_R)
    f_4_40_tapped_hole1_tool8 = extrude(f_4_40_tapped_hole1_sk8.sketch, amount=-F_4_40_TAPPED_HOLE1_REACH, mode=Mode.PRIVATE) & part.part
    add(f_4_40_tapped_hole1_tool1.solids().sort_by_distance((-8.3312, 23.4188, -34.925))[0], mode=Mode.SUBTRACT)
    add(f_4_40_tapped_hole1_tool2.solids().sort_by_distance((-23.4188, 23.4188, -34.925))[0], mode=Mode.SUBTRACT)
    add(f_4_40_tapped_hole1_tool3.solids().sort_by_distance((-23.4188, 8.3312, -34.925))[0], mode=Mode.SUBTRACT)
    add(f_4_40_tapped_hole1_tool4.solids().sort_by_distance((-8.3312, 8.3312, -34.925))[0], mode=Mode.SUBTRACT)
    add(f_4_40_tapped_hole1_tool5.solids().sort_by_distance((8.3312, 8.3312, -34.925))[0], mode=Mode.SUBTRACT)
    add(f_4_40_tapped_hole1_tool6.solids().sort_by_distance((8.3312, 23.4188, -34.925))[0], mode=Mode.SUBTRACT)
    add(f_4_40_tapped_hole1_tool7.solids().sort_by_distance((23.4188, 23.4188, -34.925))[0], mode=Mode.SUBTRACT)
    add(f_4_40_tapped_hole1_tool8.solids().sort_by_distance((23.4188, 8.3312, -34.925))[0], mode=Mode.SUBTRACT)


solid = part.part
